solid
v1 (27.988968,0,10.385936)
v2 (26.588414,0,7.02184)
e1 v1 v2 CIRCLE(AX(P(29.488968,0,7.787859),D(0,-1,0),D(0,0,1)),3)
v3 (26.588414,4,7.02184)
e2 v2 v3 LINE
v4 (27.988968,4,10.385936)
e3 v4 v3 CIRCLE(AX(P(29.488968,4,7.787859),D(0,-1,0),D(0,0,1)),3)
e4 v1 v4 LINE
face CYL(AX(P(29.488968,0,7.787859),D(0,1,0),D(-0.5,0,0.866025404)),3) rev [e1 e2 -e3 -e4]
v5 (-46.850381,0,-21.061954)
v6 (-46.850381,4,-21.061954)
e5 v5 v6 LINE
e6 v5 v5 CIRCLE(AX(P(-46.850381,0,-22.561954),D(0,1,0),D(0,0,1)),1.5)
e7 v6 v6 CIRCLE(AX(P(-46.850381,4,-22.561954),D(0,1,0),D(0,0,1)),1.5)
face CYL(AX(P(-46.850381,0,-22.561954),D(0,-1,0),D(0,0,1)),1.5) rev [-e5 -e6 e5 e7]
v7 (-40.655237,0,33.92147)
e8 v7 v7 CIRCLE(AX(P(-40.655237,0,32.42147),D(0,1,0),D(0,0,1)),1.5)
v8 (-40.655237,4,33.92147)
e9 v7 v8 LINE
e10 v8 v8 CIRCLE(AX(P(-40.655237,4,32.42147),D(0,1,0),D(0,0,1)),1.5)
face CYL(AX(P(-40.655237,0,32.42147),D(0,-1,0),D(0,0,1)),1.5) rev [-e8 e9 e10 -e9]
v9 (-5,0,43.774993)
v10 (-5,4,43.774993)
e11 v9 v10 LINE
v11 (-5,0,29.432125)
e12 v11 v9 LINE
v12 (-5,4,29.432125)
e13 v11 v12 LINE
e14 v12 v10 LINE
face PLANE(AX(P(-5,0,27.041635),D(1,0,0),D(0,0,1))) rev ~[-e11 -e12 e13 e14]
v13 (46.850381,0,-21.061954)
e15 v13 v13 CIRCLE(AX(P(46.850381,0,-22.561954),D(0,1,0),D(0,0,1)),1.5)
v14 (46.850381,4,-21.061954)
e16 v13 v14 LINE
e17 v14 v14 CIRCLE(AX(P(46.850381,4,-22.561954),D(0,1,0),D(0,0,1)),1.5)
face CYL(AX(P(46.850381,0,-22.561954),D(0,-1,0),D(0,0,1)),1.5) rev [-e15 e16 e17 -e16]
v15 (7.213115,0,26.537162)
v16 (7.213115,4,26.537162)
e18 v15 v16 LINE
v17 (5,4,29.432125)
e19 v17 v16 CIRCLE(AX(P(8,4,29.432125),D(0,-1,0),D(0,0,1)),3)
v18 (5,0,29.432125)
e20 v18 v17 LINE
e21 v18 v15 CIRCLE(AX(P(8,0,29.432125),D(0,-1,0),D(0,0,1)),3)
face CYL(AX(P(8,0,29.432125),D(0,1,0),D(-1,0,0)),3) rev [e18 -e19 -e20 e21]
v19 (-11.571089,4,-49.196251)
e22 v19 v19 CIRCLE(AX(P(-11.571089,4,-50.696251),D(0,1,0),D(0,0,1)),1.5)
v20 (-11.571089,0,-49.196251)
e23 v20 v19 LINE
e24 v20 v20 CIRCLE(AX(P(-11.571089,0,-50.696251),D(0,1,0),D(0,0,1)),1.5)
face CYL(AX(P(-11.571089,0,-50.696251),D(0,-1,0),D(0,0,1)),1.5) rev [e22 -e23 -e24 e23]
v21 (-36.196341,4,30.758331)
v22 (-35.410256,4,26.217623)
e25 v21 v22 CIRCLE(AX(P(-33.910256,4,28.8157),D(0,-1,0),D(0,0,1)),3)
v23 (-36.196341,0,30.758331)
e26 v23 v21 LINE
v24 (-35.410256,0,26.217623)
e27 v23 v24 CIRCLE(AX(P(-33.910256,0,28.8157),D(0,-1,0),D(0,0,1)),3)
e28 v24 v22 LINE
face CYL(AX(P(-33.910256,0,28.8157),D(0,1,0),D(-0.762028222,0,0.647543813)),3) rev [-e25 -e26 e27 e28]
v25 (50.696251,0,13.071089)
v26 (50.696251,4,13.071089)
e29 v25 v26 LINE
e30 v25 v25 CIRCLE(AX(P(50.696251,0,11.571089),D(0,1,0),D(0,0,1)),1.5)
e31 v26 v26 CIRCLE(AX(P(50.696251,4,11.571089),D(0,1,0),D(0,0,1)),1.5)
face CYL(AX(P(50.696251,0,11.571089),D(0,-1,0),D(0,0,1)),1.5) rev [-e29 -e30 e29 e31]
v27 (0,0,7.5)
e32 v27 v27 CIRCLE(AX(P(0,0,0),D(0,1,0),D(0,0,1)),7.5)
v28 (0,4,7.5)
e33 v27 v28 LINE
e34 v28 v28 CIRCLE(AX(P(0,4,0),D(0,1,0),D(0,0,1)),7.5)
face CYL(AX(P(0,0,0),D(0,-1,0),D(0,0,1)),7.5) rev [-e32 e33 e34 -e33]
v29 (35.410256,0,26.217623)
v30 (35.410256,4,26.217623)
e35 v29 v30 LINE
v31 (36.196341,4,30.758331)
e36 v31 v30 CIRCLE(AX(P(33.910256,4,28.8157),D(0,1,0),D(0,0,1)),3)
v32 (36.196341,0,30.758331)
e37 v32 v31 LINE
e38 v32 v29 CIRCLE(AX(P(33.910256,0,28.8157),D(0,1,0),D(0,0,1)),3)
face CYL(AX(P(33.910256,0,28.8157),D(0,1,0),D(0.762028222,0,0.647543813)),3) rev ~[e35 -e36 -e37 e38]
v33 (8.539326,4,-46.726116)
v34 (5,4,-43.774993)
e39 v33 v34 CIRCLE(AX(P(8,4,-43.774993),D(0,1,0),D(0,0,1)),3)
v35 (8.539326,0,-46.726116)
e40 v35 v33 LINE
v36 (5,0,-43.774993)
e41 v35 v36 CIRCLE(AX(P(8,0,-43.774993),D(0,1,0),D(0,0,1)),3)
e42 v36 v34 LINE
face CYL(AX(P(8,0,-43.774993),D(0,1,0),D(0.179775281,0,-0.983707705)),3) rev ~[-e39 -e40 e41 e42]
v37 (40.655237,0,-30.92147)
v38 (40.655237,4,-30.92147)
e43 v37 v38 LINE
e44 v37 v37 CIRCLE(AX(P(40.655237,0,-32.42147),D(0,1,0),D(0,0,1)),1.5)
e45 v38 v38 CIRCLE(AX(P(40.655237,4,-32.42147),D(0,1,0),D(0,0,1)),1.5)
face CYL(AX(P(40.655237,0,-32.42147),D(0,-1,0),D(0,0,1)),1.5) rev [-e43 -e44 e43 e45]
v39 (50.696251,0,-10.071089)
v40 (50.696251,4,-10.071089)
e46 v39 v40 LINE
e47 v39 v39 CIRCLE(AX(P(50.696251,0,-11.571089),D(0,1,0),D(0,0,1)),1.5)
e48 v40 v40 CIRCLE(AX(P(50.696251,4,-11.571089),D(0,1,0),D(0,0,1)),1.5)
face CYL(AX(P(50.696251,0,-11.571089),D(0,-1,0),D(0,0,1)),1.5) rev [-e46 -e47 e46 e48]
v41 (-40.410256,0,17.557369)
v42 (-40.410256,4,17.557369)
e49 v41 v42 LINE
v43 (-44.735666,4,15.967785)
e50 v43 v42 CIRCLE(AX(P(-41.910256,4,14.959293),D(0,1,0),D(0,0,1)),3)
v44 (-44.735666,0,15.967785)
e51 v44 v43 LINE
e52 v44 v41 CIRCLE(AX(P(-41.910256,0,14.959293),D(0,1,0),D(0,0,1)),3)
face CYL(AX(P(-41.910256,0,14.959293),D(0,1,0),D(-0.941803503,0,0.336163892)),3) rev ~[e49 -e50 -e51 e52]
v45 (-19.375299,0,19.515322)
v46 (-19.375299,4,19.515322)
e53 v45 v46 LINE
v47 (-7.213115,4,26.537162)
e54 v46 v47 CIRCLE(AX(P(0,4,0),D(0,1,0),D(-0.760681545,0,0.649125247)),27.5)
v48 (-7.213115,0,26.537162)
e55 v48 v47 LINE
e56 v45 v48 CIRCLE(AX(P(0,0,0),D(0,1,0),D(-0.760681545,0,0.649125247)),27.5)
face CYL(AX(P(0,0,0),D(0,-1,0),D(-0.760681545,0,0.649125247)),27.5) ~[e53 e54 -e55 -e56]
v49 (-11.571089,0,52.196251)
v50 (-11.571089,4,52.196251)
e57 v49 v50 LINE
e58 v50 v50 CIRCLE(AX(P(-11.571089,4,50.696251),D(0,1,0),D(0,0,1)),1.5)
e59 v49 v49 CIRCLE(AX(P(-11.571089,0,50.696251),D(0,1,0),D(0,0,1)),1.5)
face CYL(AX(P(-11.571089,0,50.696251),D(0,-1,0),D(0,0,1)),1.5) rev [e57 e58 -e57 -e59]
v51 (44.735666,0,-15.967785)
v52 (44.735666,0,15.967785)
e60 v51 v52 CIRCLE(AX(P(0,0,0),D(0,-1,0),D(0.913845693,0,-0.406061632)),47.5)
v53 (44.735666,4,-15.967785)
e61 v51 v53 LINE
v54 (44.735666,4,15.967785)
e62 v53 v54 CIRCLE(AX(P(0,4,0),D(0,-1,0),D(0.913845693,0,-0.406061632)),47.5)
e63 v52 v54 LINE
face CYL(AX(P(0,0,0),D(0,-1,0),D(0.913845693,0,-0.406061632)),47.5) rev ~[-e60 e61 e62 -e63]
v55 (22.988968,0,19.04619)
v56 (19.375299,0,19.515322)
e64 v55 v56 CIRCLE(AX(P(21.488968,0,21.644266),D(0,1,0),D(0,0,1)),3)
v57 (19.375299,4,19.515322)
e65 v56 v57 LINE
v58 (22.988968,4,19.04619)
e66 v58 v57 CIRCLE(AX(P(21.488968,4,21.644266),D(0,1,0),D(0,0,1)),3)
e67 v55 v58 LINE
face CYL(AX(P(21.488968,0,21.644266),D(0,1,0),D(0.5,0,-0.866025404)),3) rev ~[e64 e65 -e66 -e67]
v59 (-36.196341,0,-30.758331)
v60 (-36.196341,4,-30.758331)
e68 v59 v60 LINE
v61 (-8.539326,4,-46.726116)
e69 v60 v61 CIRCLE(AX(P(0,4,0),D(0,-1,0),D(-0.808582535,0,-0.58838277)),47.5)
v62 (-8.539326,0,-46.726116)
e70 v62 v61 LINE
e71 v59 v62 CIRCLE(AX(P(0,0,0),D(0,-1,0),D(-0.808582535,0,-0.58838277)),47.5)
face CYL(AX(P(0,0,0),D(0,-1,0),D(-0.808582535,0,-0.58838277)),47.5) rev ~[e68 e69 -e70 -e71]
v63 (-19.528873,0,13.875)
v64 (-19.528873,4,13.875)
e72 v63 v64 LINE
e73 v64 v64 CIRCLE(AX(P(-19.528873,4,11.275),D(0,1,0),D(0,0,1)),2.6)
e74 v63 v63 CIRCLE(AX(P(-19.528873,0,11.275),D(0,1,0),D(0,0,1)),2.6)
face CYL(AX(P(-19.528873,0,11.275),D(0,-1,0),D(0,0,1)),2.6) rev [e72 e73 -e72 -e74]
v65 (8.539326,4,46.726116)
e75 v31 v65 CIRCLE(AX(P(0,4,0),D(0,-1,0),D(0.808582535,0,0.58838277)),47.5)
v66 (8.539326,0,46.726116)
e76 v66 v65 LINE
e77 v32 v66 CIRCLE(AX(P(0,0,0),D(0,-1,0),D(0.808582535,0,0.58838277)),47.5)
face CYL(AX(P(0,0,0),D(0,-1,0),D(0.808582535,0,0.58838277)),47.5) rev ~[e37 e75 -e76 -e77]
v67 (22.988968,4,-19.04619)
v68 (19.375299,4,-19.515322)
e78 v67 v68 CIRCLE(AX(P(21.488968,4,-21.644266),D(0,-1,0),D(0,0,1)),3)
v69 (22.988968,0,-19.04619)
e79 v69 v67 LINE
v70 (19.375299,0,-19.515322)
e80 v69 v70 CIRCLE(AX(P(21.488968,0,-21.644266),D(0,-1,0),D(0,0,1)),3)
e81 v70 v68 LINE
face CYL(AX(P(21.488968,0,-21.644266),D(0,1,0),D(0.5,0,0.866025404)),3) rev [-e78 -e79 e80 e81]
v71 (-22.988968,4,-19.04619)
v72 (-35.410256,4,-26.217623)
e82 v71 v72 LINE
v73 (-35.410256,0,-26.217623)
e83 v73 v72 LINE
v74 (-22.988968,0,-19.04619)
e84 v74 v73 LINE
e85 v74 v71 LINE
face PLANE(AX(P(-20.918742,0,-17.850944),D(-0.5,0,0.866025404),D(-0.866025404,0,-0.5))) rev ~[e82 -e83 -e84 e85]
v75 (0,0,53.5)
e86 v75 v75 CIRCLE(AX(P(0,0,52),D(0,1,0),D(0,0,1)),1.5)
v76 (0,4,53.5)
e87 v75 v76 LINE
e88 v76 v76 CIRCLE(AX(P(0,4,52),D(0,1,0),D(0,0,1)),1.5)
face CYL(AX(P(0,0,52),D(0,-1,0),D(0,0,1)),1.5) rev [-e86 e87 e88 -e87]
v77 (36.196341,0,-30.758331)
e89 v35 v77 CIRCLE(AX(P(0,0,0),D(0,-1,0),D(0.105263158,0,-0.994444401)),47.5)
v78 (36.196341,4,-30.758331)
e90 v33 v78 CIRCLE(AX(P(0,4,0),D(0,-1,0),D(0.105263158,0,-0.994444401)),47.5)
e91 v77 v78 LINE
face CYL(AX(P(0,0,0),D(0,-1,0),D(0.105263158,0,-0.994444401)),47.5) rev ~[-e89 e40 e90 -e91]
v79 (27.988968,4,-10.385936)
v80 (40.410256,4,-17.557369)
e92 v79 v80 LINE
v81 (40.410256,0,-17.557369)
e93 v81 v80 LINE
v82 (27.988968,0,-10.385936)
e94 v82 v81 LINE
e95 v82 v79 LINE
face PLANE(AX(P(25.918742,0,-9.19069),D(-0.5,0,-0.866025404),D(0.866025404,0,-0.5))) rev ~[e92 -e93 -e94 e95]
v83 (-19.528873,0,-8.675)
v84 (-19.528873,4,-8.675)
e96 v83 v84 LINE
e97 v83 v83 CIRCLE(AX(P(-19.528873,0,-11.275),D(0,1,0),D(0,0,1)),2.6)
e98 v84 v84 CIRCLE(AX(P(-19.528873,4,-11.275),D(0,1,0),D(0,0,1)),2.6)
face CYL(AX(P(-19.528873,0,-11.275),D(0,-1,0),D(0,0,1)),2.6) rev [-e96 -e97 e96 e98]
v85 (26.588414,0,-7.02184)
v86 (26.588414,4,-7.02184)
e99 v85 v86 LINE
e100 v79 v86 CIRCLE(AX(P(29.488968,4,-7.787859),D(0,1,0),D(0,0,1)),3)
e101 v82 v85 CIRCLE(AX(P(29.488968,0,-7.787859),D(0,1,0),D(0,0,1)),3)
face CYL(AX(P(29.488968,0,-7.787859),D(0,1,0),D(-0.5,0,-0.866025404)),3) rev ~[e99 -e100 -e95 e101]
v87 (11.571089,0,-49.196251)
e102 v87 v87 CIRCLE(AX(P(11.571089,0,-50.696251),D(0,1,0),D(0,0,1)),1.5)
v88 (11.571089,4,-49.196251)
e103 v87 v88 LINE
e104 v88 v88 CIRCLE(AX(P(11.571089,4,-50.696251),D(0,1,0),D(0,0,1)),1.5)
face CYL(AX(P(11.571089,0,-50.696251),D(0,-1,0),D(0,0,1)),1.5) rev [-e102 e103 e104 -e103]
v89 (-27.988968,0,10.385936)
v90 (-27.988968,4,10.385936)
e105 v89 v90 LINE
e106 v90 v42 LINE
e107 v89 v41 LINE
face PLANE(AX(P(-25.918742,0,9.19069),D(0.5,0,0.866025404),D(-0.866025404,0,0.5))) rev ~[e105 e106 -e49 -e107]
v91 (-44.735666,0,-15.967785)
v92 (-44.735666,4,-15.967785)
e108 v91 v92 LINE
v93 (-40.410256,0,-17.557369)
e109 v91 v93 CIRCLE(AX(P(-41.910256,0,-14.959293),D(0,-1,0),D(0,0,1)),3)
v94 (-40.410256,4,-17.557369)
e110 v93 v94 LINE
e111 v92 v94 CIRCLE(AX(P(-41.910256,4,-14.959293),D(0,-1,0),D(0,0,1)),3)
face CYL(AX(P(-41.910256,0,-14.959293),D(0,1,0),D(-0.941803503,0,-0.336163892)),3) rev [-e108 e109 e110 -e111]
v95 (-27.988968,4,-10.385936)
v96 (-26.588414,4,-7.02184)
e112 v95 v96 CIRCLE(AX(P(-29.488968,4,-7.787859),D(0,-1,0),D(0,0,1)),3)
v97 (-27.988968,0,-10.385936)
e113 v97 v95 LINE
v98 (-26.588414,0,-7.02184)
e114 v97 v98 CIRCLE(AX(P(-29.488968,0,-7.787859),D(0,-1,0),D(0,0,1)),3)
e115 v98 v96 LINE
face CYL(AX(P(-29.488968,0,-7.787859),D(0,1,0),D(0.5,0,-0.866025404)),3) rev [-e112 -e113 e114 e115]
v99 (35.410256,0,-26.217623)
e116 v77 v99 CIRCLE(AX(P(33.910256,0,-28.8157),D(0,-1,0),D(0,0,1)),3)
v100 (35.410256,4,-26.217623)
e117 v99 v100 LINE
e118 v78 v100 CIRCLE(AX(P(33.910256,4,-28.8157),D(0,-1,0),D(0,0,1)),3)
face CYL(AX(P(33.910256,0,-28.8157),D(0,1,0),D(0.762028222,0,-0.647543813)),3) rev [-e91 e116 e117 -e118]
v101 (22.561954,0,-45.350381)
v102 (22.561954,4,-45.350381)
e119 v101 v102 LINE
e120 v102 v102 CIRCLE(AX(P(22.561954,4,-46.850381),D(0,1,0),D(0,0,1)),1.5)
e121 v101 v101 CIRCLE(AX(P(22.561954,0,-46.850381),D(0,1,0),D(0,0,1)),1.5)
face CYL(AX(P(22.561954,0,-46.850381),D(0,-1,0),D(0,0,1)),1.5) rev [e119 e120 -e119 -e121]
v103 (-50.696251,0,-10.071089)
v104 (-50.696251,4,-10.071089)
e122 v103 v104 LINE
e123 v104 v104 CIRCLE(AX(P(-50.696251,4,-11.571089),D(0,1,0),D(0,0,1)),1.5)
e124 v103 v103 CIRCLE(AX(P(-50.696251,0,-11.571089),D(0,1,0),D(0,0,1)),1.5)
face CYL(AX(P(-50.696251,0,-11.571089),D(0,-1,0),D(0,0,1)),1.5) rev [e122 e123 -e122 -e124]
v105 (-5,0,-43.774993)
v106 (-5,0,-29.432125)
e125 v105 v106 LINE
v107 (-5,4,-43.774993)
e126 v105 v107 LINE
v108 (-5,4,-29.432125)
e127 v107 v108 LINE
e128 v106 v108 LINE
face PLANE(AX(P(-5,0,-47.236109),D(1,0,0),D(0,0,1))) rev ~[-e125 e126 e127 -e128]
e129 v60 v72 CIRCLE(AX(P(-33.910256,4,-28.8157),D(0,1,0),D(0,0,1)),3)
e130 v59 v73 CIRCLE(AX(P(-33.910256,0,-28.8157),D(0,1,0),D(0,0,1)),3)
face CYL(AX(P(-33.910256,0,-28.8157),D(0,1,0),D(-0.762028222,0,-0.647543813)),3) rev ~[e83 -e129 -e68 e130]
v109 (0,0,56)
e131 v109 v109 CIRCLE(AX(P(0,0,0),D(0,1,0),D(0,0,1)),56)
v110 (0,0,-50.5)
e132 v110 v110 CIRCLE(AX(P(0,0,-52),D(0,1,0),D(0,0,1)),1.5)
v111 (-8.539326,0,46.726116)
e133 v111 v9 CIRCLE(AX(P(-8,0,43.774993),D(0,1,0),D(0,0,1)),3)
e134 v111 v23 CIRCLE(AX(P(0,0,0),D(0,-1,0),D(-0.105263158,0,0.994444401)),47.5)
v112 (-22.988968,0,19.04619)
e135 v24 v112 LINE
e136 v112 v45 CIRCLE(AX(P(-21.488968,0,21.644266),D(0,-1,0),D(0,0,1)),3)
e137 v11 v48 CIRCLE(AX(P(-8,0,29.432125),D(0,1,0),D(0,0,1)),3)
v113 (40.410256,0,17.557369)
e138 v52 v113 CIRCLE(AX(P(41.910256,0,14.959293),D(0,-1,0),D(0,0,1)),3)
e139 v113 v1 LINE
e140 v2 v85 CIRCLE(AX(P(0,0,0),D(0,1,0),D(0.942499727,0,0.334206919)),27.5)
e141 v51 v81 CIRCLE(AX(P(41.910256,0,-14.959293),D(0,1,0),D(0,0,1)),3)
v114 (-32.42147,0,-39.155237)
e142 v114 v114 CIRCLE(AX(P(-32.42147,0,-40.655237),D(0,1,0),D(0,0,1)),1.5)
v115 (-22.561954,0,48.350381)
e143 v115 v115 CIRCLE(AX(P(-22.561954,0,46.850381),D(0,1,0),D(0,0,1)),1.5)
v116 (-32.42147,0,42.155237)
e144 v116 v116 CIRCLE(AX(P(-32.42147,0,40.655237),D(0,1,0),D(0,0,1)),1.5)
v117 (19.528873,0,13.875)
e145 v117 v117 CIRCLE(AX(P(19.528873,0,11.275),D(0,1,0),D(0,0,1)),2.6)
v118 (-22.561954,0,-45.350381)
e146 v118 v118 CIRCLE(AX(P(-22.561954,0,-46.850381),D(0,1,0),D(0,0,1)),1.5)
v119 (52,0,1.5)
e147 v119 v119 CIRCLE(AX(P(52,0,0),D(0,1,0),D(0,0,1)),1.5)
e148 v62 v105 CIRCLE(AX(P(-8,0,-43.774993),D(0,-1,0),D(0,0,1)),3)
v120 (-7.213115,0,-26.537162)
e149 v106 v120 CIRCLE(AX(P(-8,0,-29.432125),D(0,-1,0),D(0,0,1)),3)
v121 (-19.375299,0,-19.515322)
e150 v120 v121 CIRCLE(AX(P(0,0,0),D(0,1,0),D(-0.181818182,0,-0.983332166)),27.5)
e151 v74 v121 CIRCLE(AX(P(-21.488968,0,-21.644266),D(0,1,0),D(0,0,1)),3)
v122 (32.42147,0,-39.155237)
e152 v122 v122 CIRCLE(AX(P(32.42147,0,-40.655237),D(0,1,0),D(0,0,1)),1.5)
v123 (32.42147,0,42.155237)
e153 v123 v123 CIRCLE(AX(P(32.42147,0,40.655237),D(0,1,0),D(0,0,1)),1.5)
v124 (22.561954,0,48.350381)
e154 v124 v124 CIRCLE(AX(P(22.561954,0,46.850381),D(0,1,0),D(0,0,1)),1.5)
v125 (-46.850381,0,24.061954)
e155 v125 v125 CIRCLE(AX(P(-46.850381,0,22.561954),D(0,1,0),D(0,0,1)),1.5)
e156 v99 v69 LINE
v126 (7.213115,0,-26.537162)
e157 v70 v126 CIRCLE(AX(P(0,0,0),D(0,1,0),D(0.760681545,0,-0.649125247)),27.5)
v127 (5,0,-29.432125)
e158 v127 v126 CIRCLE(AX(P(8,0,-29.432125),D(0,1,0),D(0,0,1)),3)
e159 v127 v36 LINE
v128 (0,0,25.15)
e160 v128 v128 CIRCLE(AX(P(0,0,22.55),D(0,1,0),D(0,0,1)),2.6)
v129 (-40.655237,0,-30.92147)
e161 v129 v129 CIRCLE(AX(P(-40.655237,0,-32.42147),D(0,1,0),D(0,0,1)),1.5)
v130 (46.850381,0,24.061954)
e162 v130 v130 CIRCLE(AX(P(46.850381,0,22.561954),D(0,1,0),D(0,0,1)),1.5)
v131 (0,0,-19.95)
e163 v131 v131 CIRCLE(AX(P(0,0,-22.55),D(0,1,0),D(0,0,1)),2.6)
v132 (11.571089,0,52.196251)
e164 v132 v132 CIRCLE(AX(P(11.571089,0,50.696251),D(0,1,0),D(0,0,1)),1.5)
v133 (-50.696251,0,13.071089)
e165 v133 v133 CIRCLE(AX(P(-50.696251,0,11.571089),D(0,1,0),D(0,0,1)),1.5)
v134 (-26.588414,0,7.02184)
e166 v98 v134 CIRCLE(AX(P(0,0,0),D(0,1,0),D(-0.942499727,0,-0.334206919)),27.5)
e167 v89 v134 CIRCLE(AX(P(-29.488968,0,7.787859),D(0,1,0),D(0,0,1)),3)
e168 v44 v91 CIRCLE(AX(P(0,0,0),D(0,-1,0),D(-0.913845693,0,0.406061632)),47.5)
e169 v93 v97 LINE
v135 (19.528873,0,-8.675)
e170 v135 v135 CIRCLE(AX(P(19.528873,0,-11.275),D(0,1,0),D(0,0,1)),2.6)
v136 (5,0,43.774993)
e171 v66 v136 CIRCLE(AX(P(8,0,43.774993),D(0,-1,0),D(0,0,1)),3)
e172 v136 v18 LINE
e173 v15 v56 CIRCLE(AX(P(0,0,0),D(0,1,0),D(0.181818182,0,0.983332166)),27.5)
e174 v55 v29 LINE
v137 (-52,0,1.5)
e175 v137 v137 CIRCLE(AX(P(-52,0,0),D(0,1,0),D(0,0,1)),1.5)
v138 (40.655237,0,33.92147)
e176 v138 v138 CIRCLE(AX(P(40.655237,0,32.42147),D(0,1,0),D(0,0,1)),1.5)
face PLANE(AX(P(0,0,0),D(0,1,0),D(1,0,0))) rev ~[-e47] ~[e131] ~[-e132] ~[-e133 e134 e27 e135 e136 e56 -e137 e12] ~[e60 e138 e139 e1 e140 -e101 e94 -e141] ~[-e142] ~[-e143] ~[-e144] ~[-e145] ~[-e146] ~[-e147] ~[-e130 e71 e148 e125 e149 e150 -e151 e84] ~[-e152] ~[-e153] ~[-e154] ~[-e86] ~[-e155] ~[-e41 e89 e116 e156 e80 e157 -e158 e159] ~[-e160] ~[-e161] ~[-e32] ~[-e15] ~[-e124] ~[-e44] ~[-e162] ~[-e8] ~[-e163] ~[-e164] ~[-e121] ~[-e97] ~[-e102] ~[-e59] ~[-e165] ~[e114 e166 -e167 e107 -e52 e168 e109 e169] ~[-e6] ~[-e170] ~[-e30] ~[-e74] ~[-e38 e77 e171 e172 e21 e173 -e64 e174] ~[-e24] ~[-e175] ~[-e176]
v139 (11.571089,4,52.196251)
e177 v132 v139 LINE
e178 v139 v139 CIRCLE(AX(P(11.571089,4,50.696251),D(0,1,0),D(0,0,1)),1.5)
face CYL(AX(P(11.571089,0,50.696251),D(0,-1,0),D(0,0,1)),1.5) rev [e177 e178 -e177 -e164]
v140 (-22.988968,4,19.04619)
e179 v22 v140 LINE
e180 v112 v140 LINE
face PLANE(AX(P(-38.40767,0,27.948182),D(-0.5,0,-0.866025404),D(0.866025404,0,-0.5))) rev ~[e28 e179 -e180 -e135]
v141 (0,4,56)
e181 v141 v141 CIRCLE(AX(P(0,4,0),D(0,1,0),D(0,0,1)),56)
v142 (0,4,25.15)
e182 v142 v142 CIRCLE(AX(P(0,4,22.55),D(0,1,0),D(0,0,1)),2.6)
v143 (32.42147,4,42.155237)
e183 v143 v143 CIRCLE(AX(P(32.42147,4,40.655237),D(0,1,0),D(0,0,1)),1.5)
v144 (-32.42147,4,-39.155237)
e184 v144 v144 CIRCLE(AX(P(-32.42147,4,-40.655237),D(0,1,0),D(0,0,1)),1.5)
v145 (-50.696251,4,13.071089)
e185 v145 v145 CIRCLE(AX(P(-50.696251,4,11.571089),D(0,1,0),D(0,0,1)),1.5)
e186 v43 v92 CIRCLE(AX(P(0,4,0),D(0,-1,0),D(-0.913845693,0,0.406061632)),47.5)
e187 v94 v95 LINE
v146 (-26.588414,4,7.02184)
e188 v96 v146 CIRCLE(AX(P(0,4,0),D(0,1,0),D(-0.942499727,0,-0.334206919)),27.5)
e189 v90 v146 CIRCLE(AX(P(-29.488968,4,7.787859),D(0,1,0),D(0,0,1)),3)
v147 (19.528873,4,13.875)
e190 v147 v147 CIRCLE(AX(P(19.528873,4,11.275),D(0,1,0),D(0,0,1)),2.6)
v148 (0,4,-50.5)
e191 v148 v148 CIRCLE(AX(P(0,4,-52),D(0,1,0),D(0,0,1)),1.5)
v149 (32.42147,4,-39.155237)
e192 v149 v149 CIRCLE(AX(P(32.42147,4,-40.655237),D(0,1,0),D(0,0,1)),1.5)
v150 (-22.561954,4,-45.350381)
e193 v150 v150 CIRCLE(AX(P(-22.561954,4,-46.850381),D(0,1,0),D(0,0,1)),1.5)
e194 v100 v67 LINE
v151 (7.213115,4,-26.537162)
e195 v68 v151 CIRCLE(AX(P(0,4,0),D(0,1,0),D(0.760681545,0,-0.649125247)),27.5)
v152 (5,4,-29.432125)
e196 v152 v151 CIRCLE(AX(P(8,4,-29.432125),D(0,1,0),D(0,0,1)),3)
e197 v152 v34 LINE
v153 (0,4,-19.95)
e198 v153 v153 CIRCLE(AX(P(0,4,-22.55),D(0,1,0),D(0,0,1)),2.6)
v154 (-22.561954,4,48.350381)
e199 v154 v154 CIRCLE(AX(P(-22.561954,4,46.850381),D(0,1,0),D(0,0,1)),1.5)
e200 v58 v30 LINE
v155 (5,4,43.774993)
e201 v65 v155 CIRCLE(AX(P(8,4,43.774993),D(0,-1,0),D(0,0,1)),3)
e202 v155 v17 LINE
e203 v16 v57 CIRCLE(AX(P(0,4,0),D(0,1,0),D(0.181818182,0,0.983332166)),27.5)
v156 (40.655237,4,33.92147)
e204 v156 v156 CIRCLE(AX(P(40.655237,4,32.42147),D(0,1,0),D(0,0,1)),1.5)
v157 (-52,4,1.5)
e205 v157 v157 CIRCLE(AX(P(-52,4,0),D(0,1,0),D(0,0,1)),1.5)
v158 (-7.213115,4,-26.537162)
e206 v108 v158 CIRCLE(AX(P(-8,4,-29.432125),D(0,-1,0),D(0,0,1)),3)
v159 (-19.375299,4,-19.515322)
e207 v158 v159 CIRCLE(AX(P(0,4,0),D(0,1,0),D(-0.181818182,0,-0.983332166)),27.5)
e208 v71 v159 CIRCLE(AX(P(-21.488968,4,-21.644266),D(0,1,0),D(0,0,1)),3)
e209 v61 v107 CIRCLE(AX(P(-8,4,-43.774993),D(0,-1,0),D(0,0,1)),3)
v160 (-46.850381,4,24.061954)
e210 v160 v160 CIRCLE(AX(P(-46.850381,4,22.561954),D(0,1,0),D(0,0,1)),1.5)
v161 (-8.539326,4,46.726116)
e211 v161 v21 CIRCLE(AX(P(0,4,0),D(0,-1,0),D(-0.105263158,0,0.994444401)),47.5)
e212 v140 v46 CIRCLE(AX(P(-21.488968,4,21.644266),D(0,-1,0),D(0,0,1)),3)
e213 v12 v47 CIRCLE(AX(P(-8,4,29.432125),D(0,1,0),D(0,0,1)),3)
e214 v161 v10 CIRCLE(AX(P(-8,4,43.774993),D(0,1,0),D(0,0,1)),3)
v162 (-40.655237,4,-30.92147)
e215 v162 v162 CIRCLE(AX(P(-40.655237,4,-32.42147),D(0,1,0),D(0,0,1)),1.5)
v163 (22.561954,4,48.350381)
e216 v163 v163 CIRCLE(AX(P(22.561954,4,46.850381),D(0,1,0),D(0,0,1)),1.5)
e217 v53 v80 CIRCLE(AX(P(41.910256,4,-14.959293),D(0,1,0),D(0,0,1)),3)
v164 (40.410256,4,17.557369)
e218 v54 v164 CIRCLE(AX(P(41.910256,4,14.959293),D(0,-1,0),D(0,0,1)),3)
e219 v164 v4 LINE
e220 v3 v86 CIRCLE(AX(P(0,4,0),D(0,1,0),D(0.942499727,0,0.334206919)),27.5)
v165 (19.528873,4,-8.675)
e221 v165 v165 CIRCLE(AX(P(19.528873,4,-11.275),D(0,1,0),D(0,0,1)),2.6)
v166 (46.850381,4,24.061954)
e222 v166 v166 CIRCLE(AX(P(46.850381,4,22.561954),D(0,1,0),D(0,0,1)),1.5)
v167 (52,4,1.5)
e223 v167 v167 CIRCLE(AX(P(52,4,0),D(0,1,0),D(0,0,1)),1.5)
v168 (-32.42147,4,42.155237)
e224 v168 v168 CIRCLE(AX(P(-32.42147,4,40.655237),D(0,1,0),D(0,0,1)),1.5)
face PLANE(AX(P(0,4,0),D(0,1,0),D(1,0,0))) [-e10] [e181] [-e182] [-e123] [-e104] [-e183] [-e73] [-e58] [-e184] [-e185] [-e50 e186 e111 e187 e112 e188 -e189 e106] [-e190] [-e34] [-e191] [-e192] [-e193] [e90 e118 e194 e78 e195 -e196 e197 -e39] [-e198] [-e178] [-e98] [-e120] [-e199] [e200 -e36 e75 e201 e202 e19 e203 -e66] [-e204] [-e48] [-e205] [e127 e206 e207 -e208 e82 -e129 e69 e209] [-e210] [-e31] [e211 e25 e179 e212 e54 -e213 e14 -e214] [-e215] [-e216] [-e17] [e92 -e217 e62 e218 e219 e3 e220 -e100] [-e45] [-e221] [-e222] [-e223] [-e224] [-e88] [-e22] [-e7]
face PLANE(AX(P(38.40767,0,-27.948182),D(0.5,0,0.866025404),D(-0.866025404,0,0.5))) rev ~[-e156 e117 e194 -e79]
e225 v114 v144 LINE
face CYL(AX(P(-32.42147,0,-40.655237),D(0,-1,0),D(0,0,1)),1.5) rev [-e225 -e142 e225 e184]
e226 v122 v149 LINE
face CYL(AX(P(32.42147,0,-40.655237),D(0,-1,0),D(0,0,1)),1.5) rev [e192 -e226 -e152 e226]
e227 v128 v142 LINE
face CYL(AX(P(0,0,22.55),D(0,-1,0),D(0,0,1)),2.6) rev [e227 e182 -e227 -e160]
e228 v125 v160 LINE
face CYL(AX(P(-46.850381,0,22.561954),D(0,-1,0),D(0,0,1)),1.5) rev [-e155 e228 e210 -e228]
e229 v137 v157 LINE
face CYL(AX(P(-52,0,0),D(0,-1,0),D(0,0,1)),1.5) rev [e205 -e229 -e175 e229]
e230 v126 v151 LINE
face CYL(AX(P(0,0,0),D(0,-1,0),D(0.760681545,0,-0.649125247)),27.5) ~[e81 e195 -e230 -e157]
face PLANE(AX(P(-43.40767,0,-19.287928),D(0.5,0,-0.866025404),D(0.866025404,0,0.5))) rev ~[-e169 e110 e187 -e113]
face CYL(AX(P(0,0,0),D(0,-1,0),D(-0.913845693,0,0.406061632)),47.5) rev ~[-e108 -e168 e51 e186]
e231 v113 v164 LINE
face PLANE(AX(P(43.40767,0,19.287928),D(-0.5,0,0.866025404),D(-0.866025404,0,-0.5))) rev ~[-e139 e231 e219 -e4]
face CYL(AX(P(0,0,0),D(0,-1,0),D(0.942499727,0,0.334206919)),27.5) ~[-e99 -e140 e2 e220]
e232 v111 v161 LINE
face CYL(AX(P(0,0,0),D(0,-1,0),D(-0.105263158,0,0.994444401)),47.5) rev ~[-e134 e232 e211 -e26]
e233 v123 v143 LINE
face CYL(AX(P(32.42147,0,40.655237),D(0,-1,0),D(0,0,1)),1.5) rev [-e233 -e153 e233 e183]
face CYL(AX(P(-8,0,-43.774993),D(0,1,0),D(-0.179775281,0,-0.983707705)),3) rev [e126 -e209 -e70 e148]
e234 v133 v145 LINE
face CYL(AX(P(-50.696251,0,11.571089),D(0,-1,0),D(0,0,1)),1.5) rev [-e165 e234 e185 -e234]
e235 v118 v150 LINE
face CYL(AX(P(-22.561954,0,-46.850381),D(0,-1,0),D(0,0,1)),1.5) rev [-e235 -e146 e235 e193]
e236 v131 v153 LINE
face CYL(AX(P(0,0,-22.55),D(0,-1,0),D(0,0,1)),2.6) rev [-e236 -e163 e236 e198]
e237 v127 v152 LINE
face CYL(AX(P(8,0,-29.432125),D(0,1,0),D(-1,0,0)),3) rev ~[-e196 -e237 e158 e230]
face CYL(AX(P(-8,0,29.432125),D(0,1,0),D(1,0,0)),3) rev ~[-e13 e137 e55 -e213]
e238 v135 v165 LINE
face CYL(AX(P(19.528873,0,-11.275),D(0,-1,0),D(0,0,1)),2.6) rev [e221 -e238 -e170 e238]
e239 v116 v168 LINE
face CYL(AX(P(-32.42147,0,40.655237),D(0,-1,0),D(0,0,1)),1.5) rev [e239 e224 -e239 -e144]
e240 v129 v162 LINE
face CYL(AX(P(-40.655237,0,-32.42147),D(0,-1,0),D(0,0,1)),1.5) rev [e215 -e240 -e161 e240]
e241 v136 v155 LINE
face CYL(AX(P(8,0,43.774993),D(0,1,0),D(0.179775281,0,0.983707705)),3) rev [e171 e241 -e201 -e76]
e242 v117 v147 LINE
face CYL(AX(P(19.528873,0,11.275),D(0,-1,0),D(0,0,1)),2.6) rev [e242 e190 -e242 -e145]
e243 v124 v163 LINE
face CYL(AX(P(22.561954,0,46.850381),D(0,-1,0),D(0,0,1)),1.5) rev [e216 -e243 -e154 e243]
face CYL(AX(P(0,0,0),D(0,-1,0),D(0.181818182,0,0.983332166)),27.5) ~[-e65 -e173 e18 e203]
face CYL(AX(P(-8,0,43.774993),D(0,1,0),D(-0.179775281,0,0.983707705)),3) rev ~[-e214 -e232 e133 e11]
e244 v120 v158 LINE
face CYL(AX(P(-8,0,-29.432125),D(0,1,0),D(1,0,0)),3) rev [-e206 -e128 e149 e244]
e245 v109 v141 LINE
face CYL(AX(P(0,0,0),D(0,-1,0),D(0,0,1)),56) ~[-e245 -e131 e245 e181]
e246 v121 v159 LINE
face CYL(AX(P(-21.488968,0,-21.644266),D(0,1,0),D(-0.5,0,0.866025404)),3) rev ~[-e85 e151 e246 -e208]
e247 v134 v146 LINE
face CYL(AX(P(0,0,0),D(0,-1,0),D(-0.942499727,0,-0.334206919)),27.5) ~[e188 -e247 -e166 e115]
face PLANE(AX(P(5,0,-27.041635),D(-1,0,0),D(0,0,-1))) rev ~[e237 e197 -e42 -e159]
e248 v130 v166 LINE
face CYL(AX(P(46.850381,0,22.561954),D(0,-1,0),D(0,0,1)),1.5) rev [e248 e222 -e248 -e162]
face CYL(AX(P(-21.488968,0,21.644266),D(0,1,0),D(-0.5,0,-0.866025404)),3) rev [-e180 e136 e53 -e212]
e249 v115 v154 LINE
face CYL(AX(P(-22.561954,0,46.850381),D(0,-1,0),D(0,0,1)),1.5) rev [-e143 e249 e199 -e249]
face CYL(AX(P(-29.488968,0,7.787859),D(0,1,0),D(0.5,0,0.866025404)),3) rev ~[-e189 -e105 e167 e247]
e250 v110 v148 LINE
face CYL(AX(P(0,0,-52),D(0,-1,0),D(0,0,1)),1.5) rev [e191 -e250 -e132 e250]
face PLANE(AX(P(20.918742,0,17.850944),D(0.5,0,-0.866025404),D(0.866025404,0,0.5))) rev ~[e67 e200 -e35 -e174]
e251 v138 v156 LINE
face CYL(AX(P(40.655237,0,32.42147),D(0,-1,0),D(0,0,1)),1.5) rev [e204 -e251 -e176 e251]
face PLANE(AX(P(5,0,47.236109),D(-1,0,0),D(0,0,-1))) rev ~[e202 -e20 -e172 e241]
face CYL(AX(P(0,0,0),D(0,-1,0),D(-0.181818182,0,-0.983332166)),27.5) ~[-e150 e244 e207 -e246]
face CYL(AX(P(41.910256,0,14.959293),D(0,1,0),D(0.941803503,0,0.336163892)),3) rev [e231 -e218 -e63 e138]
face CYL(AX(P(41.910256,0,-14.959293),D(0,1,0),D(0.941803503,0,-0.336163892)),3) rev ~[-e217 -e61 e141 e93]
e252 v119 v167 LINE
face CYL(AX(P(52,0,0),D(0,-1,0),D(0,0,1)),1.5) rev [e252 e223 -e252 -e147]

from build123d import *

# Parameters (mm, degrees)
SKETCH_1_R      = 56
SKETCH_1_R_2    = 2.6
SKETCH_1_R_3    = 17.5
SKETCH_1_R_4    = 1.5
EXTRUDE_1_DEPTH = 4
FILLET_1_R      = 3
EXTRUDE_START   = -4
SKETCH_2_R      = 17.5
SKETCH_2_R_2    = 7.5
EXTRUDE_2_DEPTH = 4


with BuildPart() as part:
    # 草图1 → 凸台-拉伸1 (new body)
    with BuildSketch(Plane(origin=(0, 0, 0), x_dir=(1, 0, 0), z_dir=(0, 1, 0))):
        with Locations(Location((0, 0, 0), (0, 0, 270))):
            Circle(SKETCH_1_R)
        with BuildLine():
            Line((-5, 47.236109069), (-5, 27.041634566))
            ThreePointArc((-5, 27.041634566), (-13.75, 23.815698604), (-20.918742494, 17.850944302))
            Line((-20.918742494, 17.850944302), (-38.40767043, 27.948181554))
            ThreePointArc((-38.40767043, 27.948181554), (-23.75, 41.13620668), (-5, 47.236109069))
        make_face(mode=Mode.SUBTRACT)
        with BuildLine():
            Line((-43.40767043, 19.287927516), (-25.918742494, 9.190690264))
            ThreePointArc((-25.918742494, 9.190690264), (-27.5, 0), (-25.918742494, -9.190690264))
            Line((-25.918742494, -9.190690264), (-43.40767043, -19.287927516))
            ThreePointArc((-43.40767043, -19.287927516), (-47.5, 0), (-43.40767043, 19.287927516))
        make_face(mode=Mode.SUBTRACT)
        with BuildLine():
            Line((-38.40767043, -27.948181554), (-20.918742494, -17.850944302))
            ThreePointArc((-20.918742494, -17.850944302), (-13.75, -23.815698604), (-5, -27.041634566))
            Line((-5, -27.041634566), (-5, -47.236109069))
            ThreePointArc((-5, -47.236109069), (-23.75, -41.13620668), (-38.40767043, -27.948181554))
        make_face(mode=Mode.SUBTRACT)
        with BuildLine():
            Line((5, -47.236109069), (5, -27.041634566))
            ThreePointArc((5, -27.041634566), (13.75, -23.815698604), (20.918742494, -17.850944302))
            Line((20.918742494, -17.850944302), (38.40767043, -27.948181554))
            ThreePointArc((38.40767043, -27.948181554), (23.75, -41.13620668), (5, -47.236109069))
        make_face(mode=Mode.SUBTRACT)
        with BuildLine():
            Line((43.40767043, -19.287927516), (25.918742494, -9.190690264))
            ThreePointArc((25.918742494, -9.190690264), (27.5, 0), (25.918742494, 9.190690264))
            Line((25.918742494, 9.190690264), (43.40767043, 19.287927516))
            ThreePointArc((43.40767043, 19.287927516), (47.5, 0), (43.40767043, -19.287927516))
        make_face(mode=Mode.SUBTRACT)
        with BuildLine():
            Line((38.40767043, 27.948181554), (20.918742494, 17.850944302))
            ThreePointArc((20.918742494, 17.850944302), (13.75, 23.815698604), (5, 27.041634566))
            Line((5, 27.041634566), (5, 47.236109069))
            ThreePointArc((5, 47.236109069), (23.75, 41.13620668), (38.40767043, 27.948181554))
        make_face(mode=Mode.SUBTRACT)
        with Locations(Location((0, 22.55, 0), (0, 0, 270))):
            Circle(SKETCH_1_R_2, mode=Mode.SUBTRACT)
        with Locations(Location((-19.528872855, -11.275, 0), (0, 0, 270))):
            Circle(SKETCH_1_R_2, mode=Mode.SUBTRACT)
        with Locations(Location((0, -22.55, 0), (0, 0, 270))):
            Circle(SKETCH_1_R_2, mode=Mode.SUBTRACT)
        with Locations(Location((19.528872855, -11.275, 0), (0, 0, 270))):
            Circle(SKETCH_1_R_2, mode=Mode.SUBTRACT)
        with Locations(Location((-19.528872855, 11.275, 0), (0, 0, 270))):
            Circle(SKETCH_1_R_2, mode=Mode.SUBTRACT)
        with Locations(Location((0, 0, 0), (0, 0, 270))):
            Circle(SKETCH_1_R_3, mode=Mode.SUBTRACT)
        with Locations(Location((19.528872855, 11.275, 0), (0, 0, 270))):
            Circle(SKETCH_1_R_2, mode=Mode.SUBTRACT)
        with Locations(Location((-32.421469697, -40.655237088, 0), (0, 0, 270))):
            Circle(SKETCH_1_R_4, mode=Mode.SUBTRACT)
        with Locations(Location((-40.655237088, -32.421469697, 0), (0, 0, 270))):
            Circle(SKETCH_1_R_4, mode=Mode.SUBTRACT)
        with Locations(Location((-22.561954434, -46.850381131, 0), (0, 0, 270))):
            Circle(SKETCH_1_R_4, mode=Mode.SUBTRACT)
        with Locations(Location((-11.571088566, -50.696251433, 0), (0, 0, 270))):
            Circle(SKETCH_1_R_4, mode=Mode.SUBTRACT)
        with Locations(Location((-46.850381131, -22.561954434, 0), (0, 0, 270))):
            Circle(SKETCH_1_R_4, mode=Mode.SUBTRACT)
        with Locations(Location((-50.696251433, -11.571088566, 0), (0, 0, 270))):
            Circle(SKETCH_1_R_4, mode=Mode.SUBTRACT)
        with Locations(Location((-52, 0, 0), (0, 0, 270))):
            Circle(SKETCH_1_R_4, mode=Mode.SUBTRACT)
        with Locations(Location((0, -52, 0), (0, 0, 270))):
            Circle(SKETCH_1_R_4, mode=Mode.SUBTRACT)
        with Locations(Location((11.571088566, -50.696251433, 0), (0, 0, 270))):
            Circle(SKETCH_1_R_4, mode=Mode.SUBTRACT)
        with Locations(Location((22.561954434, -46.850381131, 0), (0, 0, 270))):
            Circle(SKETCH_1_R_4, mode=Mode.SUBTRACT)
        with Locations(Location((32.421469697, -40.655237088, 0), (0, 0, 270))):
            Circle(SKETCH_1_R_4, mode=Mode.SUBTRACT)
        with Locations(Location((40.655237088, -32.421469697, 0), (0, 0, 270))):
            Circle(SKETCH_1_R_4, mode=Mode.SUBTRACT)
        with Locations(Location((46.850381131, -22.561954434, 0), (0, 0, 270))):
            Circle(SKETCH_1_R_4, mode=Mode.SUBTRACT)
        with Locations(Location((50.696251433, -11.571088566, 0), (0, 0, 270))):
            Circle(SKETCH_1_R_4, mode=Mode.SUBTRACT)
        with Locations(Location((-50.696251433, 11.571088566, 0), (0, 0, 270))):
            Circle(SKETCH_1_R_4, mode=Mode.SUBTRACT)
        with Locations(Location((-46.850381131, 22.561954434, 0), (0, 0, 270))):
            Circle(SKETCH_1_R_4, mode=Mode.SUBTRACT)
        with Locations(Location((-40.655237088, 32.421469697, 0), (0, 0, 270))):
            Circle(SKETCH_1_R_4, mode=Mode.SUBTRACT)
        with Locations(Location((-32.421469697, 40.655237088, 0), (0, 0, 270))):
            Circle(SKETCH_1_R_4, mode=Mode.SUBTRACT)
        with Locations(Location((-22.561954434, 46.850381131, 0), (0, 0, 270))):
            Circle(SKETCH_1_R_4, mode=Mode.SUBTRACT)
        with Locations(Location((-11.571088566, 50.696251433, 0), (0, 0, 270))):
            Circle(SKETCH_1_R_4, mode=Mode.SUBTRACT)
        with Locations(Location((40.655237088, 32.421469697, 0), (0, 0, 270))):
            Circle(SKETCH_1_R_4, mode=Mode.SUBTRACT)
        with Locations(Location((22.561954434, 46.850381131, 0), (0, 0, 270))):
            Circle(SKETCH_1_R_4, mode=Mode.SUBTRACT)
        with Locations(Location((11.571088566, 50.696251433, 0), (0, 0, 270))):
            Circle(SKETCH_1_R_4, mode=Mode.SUBTRACT)
        with Locations(Location((0, 52, 0), (0, 0, 270))):
            Circle(SKETCH_1_R_4, mode=Mode.SUBTRACT)
        with Locations(Location((46.850381131, 22.561954434, 0), (0, 0, 270))):
            Circle(SKETCH_1_R_4, mode=Mode.SUBTRACT)
        with Locations(Location((32.421469697, 40.655237088, 0), (0, 0, 270))):
            Circle(SKETCH_1_R_4, mode=Mode.SUBTRACT)
        with Locations(Location((52, 0, 0), (0, 0, 270))):
            Circle(SKETCH_1_R_4, mode=Mode.SUBTRACT)
        with Locations(Location((50.696251433, 11.571088566, 0), (0, 0, 270))):
            Circle(SKETCH_1_R_4, mode=Mode.SUBTRACT)
    extrude(amount=EXTRUDE_1_DEPTH)

    # 圆角1
    fillet_1_edges = [part.edges().sort_by_distance(p)[0] for p in [
        (5, 2, 27.041634566),
        (5, 2, 47.236109069),
        (38.40767043, 2, 27.948181554),
        (20.918742494, 2, 17.850944302),
        (43.40767043, 2, -19.287927516),
        (25.918742494, 2, -9.190690264),
        (25.918742494, 2, 9.190690264),
        (43.40767043, 2, 19.287927516),
        (5, 2, -47.236109069),
        (5, 2, -27.041634566),
        (20.918742494, 2, -17.850944302),
        (38.40767043, 2, -27.948181554),
        (-38.40767043, 2, -27.948181554),
        (-20.918742494, 2, -17.850944302),
        (-5, 2, -27.041634566),
        (-5, 2, -47.236109069),
        (-43.40767043, 2, 19.287927516),
        (-25.918742494, 2, 9.190690264),
        (-25.918742494, 2, -9.190690264),
        (-43.40767043, 2, -19.287927516),
        (-5, 2, 47.236109069),
        (-5, 2, 27.041634566),
        (-20.918742494, 2, 17.850944302),
        (-38.40767043, 2, 27.948181554),
    ]]
    fillet(fillet_1_edges, radius=FILLET_1_R)

    # 草图2 → 凸台-拉伸2 (add)
    with BuildSketch(Plane(origin=(0, 4, 0), x_dir=(1, 0, 0), z_dir=(0, 1, 0)).offset(EXTRUDE_START)):
        Circle(SKETCH_2_R)
        with Locations(Location((0, 0, 0), (0, 0, 270))):
            Circle(SKETCH_2_R_2, mode=Mode.SUBTRACT)
    extrude(amount=EXTRUDE_2_DEPTH)


solid = part.part
